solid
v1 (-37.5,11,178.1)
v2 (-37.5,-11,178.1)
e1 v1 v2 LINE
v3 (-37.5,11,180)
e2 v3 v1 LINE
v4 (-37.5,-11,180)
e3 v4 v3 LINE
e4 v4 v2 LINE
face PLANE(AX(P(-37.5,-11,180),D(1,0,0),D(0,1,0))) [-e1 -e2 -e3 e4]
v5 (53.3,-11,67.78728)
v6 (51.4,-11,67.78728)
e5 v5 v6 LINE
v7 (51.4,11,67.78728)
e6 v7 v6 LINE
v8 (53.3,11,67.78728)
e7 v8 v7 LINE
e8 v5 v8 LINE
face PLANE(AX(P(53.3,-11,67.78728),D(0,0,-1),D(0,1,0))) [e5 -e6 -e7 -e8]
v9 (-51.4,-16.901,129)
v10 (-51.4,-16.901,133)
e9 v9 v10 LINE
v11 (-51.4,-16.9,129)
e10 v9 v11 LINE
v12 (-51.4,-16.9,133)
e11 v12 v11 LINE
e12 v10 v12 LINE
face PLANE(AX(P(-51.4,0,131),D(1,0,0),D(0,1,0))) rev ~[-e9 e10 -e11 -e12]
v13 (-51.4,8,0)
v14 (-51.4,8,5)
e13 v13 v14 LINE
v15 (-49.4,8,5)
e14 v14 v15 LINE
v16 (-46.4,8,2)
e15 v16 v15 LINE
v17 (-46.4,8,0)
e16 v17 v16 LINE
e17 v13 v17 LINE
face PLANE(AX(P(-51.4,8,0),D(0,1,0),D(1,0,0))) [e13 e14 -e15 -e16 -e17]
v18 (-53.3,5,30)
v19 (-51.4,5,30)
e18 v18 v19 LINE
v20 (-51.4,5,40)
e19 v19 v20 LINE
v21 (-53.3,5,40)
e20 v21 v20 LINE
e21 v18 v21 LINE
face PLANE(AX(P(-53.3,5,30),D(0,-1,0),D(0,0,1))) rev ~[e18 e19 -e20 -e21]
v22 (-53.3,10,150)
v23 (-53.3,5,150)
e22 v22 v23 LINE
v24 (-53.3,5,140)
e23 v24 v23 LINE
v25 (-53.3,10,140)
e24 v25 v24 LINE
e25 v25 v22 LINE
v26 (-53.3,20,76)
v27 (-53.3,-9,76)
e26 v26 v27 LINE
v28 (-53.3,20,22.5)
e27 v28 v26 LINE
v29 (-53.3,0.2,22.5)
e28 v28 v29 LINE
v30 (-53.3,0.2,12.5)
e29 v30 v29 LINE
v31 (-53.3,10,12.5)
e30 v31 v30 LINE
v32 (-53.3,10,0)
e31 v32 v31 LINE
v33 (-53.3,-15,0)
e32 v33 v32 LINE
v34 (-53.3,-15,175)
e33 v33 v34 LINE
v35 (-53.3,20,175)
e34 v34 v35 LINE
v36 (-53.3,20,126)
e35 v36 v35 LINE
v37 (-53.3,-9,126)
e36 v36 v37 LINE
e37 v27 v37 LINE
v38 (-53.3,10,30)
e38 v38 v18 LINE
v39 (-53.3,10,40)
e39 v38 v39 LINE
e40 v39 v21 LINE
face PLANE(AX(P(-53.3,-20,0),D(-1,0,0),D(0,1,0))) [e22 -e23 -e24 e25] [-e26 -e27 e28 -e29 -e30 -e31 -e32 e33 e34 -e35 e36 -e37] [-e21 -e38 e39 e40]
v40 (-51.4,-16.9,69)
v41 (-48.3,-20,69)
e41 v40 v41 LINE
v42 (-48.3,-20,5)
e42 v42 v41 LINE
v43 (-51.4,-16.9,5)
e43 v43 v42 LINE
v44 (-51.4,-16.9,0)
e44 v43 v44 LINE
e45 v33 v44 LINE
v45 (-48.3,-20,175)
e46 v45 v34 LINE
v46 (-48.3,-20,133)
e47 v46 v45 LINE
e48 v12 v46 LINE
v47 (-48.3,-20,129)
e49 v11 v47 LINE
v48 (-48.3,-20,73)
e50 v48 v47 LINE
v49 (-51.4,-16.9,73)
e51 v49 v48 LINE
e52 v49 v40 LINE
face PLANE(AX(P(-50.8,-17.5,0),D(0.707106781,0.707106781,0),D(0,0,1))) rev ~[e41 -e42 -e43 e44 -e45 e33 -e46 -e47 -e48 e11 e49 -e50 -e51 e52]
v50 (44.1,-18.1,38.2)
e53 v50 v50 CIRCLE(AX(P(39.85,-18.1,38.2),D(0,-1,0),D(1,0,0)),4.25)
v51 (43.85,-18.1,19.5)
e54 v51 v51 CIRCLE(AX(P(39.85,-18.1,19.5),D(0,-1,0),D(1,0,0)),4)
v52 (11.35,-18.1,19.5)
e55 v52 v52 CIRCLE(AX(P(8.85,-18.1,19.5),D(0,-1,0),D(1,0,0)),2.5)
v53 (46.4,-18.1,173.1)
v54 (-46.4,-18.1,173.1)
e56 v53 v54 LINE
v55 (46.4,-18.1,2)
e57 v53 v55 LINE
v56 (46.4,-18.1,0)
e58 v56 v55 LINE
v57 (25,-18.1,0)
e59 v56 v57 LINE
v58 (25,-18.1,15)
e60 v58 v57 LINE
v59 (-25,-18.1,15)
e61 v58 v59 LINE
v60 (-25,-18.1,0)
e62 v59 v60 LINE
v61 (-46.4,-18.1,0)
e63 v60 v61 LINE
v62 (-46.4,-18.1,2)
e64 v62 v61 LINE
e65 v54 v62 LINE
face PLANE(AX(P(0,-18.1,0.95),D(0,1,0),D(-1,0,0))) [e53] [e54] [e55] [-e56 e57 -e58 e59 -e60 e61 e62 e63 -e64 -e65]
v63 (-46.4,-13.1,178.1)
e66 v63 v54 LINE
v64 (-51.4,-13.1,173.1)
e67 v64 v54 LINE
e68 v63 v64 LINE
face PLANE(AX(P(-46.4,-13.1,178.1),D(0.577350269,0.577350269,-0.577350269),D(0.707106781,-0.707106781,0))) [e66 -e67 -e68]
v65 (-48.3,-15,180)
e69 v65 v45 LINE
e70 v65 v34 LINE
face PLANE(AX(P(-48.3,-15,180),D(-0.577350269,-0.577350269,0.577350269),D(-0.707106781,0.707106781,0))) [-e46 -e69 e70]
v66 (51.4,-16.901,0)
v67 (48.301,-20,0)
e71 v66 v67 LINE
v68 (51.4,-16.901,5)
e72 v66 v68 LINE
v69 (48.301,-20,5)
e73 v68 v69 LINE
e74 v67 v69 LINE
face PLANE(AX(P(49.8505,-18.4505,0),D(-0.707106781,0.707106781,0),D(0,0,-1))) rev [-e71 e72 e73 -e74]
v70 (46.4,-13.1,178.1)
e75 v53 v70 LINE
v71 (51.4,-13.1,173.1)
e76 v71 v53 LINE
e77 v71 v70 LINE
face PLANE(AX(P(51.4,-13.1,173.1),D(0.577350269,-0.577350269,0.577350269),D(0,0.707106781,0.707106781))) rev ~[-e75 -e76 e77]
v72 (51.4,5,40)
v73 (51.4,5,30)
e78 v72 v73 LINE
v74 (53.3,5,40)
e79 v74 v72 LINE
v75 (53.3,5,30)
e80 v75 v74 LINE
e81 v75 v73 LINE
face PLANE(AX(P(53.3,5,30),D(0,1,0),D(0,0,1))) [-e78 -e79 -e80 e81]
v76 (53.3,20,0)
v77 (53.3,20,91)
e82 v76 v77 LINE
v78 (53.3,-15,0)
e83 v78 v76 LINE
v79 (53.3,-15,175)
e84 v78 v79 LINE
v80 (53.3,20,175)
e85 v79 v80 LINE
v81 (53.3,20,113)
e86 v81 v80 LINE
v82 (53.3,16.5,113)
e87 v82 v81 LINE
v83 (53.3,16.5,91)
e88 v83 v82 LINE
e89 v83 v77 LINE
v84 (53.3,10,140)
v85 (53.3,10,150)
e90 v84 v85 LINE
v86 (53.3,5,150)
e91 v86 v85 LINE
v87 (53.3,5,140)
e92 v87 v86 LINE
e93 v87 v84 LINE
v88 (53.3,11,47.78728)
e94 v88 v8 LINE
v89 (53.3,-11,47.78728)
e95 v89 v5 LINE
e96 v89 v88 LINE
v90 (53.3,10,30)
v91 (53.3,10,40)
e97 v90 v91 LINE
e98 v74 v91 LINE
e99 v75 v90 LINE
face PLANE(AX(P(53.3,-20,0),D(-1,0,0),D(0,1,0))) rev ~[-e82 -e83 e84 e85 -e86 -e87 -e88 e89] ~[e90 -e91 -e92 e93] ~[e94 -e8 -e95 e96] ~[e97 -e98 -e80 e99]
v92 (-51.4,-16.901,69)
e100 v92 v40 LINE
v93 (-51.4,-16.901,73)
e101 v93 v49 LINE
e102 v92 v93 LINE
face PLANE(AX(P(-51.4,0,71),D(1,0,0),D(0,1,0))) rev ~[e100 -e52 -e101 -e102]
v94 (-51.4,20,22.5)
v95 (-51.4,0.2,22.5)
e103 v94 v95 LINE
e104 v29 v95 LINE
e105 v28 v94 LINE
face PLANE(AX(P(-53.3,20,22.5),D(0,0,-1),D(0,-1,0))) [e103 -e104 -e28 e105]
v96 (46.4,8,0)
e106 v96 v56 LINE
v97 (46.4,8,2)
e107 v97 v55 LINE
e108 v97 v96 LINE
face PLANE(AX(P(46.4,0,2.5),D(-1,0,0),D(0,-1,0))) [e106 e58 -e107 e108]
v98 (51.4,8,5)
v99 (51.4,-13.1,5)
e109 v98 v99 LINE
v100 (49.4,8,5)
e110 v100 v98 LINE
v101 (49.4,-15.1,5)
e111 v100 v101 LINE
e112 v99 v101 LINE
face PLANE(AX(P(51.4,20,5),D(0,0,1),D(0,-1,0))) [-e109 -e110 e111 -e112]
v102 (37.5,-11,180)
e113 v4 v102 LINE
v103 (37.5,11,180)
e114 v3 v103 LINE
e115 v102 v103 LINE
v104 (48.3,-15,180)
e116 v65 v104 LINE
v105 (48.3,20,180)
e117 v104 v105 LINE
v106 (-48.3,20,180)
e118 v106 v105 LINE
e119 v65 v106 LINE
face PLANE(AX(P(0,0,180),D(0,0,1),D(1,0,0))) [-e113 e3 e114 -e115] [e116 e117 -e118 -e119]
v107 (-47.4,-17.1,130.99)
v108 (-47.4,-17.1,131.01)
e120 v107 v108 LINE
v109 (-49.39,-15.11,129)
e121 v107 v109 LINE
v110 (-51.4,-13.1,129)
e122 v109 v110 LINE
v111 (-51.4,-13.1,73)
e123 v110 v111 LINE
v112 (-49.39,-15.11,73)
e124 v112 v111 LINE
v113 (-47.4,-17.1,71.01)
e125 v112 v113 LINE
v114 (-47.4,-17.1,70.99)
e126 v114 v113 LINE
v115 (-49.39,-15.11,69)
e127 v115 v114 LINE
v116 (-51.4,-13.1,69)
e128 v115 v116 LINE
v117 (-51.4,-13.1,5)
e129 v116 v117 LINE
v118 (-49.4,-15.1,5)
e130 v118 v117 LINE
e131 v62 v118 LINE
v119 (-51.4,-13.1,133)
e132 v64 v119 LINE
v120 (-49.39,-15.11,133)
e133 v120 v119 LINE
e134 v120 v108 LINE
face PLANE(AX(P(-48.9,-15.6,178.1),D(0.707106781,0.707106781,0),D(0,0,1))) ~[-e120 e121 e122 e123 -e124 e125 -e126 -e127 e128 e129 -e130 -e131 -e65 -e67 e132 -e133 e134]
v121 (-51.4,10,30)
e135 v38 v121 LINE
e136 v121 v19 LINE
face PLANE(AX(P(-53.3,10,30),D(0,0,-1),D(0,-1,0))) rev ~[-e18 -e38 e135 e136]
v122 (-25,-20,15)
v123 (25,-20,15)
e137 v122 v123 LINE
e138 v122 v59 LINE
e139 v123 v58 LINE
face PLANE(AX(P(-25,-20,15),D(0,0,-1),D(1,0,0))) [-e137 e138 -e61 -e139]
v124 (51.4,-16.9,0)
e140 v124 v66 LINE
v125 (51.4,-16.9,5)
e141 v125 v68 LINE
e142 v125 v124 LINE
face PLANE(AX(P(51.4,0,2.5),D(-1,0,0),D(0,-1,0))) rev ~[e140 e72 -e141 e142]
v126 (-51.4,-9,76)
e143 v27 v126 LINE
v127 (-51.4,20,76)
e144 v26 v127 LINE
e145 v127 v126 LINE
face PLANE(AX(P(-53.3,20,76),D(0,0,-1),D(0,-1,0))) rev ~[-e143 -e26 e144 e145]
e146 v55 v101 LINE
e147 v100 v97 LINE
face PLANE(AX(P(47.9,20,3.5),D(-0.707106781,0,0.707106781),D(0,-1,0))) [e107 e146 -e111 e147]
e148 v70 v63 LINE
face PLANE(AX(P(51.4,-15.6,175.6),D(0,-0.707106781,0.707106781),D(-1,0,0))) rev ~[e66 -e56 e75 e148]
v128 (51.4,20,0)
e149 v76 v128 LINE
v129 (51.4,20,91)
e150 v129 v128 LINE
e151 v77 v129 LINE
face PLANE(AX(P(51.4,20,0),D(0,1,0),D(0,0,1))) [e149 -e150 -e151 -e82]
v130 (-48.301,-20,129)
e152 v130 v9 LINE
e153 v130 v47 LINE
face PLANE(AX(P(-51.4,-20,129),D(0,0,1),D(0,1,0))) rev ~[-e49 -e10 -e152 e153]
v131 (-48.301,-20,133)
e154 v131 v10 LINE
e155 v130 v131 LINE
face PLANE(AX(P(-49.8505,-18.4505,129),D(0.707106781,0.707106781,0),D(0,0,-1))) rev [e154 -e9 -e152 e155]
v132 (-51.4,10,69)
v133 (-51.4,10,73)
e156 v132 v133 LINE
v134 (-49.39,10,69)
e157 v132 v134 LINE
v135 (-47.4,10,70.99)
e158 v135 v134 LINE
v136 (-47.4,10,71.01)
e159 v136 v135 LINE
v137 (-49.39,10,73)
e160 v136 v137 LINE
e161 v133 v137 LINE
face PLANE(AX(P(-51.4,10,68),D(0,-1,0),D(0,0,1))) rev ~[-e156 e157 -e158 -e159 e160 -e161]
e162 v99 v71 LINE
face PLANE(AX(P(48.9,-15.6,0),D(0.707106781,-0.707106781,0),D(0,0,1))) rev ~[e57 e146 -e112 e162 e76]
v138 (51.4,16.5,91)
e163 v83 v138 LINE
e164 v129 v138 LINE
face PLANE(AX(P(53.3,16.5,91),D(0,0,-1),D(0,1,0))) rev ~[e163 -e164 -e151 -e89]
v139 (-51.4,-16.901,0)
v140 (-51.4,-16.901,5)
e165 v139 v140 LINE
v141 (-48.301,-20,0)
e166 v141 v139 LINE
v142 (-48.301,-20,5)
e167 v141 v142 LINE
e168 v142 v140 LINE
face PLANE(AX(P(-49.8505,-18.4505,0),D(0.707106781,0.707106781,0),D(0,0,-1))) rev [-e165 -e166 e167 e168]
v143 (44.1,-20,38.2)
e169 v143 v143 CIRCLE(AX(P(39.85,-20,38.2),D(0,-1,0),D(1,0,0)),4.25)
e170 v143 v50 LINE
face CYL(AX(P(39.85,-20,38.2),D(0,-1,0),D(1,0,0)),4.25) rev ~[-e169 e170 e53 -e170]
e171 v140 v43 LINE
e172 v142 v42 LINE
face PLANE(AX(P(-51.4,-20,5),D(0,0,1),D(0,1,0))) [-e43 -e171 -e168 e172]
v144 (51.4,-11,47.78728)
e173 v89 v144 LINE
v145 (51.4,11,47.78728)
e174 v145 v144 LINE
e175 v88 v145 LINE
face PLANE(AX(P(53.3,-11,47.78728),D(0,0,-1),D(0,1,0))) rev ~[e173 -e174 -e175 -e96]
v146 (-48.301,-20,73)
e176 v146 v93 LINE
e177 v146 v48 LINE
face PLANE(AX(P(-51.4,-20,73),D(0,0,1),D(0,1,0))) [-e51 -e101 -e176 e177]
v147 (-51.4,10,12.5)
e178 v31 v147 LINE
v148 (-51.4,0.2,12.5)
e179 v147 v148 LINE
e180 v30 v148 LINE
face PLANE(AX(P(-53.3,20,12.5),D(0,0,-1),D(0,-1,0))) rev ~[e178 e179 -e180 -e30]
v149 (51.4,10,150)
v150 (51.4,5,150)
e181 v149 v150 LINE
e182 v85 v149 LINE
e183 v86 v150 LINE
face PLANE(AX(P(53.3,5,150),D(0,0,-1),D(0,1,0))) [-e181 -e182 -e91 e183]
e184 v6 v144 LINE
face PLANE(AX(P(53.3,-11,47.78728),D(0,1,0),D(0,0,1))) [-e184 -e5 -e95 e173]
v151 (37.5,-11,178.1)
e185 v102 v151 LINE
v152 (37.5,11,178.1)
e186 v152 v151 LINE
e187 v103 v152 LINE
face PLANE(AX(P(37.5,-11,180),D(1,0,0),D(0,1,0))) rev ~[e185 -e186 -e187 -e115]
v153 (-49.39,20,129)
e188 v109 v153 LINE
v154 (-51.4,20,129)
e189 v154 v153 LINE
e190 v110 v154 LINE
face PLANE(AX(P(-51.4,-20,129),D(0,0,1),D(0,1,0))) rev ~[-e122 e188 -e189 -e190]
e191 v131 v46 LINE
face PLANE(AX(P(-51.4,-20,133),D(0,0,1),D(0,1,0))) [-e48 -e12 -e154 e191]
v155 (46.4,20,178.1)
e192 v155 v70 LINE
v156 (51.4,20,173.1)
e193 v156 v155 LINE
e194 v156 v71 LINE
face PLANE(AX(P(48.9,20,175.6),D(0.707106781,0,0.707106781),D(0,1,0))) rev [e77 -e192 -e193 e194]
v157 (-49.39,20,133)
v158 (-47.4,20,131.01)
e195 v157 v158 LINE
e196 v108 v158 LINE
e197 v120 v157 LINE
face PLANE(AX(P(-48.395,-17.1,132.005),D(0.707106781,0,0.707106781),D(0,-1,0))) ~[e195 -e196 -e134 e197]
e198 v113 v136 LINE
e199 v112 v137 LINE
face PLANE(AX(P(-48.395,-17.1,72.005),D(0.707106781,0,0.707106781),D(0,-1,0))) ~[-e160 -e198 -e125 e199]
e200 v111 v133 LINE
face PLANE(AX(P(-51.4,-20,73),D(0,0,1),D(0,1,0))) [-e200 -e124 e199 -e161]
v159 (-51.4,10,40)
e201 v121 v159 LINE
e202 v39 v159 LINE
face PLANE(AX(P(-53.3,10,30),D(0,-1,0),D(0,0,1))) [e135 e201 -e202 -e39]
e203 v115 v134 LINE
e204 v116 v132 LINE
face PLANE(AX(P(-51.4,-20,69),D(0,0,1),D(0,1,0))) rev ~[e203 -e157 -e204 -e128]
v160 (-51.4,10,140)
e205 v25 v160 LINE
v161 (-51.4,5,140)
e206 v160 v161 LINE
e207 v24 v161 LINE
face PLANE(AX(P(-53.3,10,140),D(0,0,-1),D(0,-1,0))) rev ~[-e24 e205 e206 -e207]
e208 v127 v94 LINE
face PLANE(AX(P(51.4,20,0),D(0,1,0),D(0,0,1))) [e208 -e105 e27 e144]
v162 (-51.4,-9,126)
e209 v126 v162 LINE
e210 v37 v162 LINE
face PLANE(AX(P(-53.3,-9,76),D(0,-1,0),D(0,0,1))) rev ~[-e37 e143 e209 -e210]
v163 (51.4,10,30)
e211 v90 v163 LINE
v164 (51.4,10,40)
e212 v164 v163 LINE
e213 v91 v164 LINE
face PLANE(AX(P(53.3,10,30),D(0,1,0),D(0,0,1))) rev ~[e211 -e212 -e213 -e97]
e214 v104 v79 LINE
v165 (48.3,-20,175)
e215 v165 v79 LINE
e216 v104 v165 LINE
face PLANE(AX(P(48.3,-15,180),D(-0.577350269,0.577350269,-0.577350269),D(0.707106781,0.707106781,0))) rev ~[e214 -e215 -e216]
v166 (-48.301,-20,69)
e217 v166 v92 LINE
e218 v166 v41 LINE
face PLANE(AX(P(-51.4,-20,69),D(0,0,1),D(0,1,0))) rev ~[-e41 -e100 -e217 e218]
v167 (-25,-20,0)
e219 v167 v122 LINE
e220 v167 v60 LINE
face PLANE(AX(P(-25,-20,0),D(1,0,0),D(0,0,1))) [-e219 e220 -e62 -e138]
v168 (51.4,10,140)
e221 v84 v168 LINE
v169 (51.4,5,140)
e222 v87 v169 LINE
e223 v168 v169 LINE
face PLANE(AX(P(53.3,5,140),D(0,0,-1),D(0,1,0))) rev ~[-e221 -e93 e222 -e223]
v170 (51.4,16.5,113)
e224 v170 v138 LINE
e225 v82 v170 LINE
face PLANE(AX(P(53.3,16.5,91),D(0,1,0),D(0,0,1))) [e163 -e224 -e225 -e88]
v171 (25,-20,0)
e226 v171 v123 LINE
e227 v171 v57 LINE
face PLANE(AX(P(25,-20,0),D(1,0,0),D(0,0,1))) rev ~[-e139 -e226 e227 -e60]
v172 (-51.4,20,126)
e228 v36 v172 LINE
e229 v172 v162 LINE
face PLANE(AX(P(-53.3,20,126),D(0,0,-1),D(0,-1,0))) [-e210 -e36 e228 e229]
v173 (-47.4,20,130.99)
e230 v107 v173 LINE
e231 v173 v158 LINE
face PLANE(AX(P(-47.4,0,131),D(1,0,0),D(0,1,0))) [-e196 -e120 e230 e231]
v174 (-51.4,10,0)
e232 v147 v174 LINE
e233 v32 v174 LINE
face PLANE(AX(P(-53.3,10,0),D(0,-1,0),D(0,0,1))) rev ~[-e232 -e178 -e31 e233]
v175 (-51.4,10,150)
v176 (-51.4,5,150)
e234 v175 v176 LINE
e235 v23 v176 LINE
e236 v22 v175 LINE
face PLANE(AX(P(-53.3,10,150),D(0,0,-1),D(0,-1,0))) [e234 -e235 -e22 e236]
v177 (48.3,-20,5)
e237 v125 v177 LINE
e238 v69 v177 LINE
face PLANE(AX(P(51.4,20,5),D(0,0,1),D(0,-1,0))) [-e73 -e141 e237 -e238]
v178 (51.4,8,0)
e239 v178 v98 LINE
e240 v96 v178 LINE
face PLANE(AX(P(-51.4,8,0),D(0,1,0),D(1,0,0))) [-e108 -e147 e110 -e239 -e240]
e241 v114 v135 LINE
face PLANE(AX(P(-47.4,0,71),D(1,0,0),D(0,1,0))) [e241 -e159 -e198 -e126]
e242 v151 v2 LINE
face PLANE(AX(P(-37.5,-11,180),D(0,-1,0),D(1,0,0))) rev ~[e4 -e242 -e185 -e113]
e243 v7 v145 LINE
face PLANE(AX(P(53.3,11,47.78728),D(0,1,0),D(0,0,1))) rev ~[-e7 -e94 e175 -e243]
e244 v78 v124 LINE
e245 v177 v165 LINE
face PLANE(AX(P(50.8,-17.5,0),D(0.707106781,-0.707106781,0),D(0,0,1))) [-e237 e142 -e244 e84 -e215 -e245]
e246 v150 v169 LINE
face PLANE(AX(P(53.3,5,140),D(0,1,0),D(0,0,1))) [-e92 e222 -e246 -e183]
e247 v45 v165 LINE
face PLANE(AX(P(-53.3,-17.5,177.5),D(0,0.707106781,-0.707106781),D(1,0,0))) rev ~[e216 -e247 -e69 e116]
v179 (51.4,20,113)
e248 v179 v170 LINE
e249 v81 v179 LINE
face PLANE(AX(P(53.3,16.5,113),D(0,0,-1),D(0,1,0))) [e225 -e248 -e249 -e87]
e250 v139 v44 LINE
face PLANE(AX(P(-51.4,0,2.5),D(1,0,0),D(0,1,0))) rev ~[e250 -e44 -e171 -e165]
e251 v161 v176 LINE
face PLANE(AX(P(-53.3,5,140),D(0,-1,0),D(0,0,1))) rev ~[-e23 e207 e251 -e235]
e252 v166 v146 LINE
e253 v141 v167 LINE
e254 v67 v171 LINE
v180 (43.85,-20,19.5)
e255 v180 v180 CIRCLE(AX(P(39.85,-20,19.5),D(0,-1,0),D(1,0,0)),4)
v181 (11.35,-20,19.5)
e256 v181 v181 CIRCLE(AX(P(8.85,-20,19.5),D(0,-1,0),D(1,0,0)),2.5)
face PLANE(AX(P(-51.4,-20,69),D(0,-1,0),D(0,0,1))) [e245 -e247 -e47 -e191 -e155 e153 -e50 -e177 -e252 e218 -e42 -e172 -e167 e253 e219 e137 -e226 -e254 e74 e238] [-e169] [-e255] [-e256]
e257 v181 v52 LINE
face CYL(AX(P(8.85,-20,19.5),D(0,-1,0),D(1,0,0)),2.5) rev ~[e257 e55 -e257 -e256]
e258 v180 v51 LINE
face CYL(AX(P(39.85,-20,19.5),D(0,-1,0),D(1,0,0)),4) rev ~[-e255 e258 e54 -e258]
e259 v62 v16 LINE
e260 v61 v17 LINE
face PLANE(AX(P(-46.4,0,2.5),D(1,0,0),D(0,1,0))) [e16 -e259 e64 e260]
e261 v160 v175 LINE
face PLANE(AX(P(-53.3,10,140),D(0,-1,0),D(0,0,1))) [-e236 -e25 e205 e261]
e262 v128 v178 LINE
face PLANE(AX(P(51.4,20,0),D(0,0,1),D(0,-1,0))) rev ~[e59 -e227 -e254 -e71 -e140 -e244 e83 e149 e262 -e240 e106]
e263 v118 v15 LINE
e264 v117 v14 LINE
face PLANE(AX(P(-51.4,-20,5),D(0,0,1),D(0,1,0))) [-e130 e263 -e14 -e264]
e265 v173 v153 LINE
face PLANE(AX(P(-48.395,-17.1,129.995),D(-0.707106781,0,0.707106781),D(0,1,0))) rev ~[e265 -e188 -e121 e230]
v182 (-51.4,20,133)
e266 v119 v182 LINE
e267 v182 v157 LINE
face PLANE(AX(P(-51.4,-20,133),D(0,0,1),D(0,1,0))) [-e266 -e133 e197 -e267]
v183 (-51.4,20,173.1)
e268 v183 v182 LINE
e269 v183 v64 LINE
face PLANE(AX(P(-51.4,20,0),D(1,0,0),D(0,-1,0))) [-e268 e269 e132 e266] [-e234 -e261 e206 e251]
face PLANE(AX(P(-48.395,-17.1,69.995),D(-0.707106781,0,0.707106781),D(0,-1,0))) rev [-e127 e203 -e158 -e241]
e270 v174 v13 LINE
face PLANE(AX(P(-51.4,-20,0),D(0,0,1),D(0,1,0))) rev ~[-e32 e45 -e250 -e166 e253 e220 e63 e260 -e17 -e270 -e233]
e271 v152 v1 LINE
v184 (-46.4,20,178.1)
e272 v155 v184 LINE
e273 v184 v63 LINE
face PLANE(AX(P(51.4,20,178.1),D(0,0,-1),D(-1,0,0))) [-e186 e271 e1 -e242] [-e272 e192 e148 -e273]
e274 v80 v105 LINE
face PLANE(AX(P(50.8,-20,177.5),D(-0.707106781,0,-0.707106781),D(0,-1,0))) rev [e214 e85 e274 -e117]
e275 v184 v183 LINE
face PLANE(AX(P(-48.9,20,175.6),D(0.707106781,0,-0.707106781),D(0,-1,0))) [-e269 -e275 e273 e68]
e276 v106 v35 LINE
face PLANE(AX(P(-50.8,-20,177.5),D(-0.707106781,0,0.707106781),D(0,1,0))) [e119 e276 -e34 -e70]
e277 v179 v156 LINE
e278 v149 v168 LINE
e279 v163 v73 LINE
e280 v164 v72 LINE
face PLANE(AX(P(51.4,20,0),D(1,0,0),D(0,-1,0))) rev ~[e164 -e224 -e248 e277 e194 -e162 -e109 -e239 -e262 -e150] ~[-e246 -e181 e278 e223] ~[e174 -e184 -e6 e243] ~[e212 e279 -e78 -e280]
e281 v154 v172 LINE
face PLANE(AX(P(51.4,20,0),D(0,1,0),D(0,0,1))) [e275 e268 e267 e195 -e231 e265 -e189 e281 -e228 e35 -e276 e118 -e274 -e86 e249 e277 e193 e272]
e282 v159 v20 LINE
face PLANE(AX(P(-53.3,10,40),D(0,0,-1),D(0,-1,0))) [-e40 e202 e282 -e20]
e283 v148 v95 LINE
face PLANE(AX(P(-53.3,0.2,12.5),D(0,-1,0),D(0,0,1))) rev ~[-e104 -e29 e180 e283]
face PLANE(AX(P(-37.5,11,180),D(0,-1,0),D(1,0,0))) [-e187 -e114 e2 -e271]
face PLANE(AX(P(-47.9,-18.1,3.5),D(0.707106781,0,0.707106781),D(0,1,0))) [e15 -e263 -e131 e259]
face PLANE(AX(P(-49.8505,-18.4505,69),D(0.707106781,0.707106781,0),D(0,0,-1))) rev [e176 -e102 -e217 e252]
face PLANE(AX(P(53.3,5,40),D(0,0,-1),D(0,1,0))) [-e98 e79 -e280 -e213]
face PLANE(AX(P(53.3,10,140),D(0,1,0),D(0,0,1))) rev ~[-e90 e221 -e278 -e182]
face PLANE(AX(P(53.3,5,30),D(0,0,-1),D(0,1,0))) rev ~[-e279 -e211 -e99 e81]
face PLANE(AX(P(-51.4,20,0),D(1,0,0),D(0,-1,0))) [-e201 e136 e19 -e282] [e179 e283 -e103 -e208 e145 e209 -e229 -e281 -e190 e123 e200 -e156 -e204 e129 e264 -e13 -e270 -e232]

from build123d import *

# Parameters (mm, degrees)
SKETCH_W        = 106.6
SKETCH_H        = 40
PAD_DEPTH       = 180
SKETCH001_W     = 102.8
SKETCH001_H     = 176.2
POCKET_DEPTH    = 38.1
SKETCH002_W     = 102.8
SKETCH002_H     = 1.9
POCKET001_DEPTH = 38.1
SKETCH003_W     = 50
SKETCH003_H     = 15
POCKET002_DEPTH = 5
SKETCH004_W     = 22
SKETCH004_H     = 20
POCKET003_DEPTH = 5
SKETCH005_W     = 75
SKETCH005_H     = 22
POCKET004_DEPTH = 5
SKETCH006_R     = 4
SKETCH006_R_2   = 4.25
POCKET005_DEPTH = 5
CHAMFER_SIZE    = 5
CHAMFER001_SIZE = 5
SKETCH007_W     = 5
SKETCH007_H     = 10
POCKET006_DEPTH = 5
SKETCH008_W     = 5
SKETCH008_H     = 10
POCKET007_DEPTH = 5
SKETCH009_W     = 19.8
SKETCH009_H     = 10
POCKET008_DEPTH = 5
SKETCH010_W     = 40
SKETCH010_H     = 5
PAD001_DEPTH    = 5
CHAMFER002_SIZE = 3.099
CHAMFER003_SIZE = 3
SKETCH011_W     = 40
SKETCH011_H     = 5
PAD002_DEPTH    = 5
CHAMFER004_SIZE = 3.099
CHAMFER005_SIZE = 3
SKETCH012_W     = 3.5
SKETCH012_H     = 22
POCKET009_DEPTH = 5
SKETCH013_W     = 3.5
SKETCH013_H     = 22
POCKET010_DEPTH = 5
SKETCH014_W     = 29
SKETCH014_H     = 50
POCKET011_DEPTH = 5
SKETCH015_W     = 102.8
SKETCH015_H     = 12
POCKET012_DEPTH = 5
SKETCH016_W     = 10
SKETCH016_H     = 12.5
POCKET013_DEPTH = 5
SKETCH017_W     = 40
SKETCH017_H     = 4
PAD003_DEPTH    = 4
CHAMFER006_SIZE = 3.099
CHAMFER007_SIZE = 1.99
SKETCH018_R     = 2.5
POCKET014_DEPTH = 5
SKETCH019_W     = 10
SKETCH019_H     = 8
POCKET015_DEPTH = 5


with BuildPart() as part:
    # Sketch → Pad (new body)
    with BuildSketch(Plane.XY):
        Rectangle(SKETCH_W, SKETCH_H)
    extrude(amount=PAD_DEPTH)

    # Sketch001 (on Face1 of Pad) → Pocket (cut)
    with BuildSketch(Plane(origin=(0, 20, 0), x_dir=(-1, 0, 0), z_dir=(0, 1, 0))):
        with Locations((0, 90)):
            Rectangle(SKETCH001_W, SKETCH001_H)
    extrude(amount=-POCKET_DEPTH, mode=Mode.SUBTRACT)

    # Sketch002 (on Face1 of Pocket) → Pocket001 (cut)
    with BuildSketch(Plane(origin=(0, 20, 0), x_dir=(-1, 0, 0), z_dir=(0, 1, 0))):
        with Locations((0, 0.95)):
            Rectangle(SKETCH002_W, SKETCH002_H)
    extrude(amount=-POCKET001_DEPTH, mode=Mode.SUBTRACT)

    # Sketch003 (on Face11 of Pocket001) → Pocket002 (cut)
    with BuildSketch(Plane.XZ.offset(20)):
        with Locations((0, 7.5)):
            Rectangle(SKETCH003_W, SKETCH003_H)
    extrude(amount=-POCKET002_DEPTH, mode=Mode.SUBTRACT)

    # Sketch004 (on Face9 of Pocket002) → Pocket003 (cut)
    with BuildSketch(Plane.YZ.offset(53.3)):
        with Locations((0, 57.78728)):
            Rectangle(SKETCH004_W, SKETCH004_H)
    extrude(amount=-POCKET003_DEPTH, mode=Mode.SUBTRACT)

    # Sketch005 (on Face10 of Pocket003) → Pocket004 (cut)
    with BuildSketch(Plane.XY.offset(180)):
        Rectangle(SKETCH005_W, SKETCH005_H)
    extrude(amount=-POCKET004_DEPTH, mode=Mode.SUBTRACT)

    # Sketch006 (on Face12 of Pocket004) → Pocket005 (cut)
    with BuildSketch(Plane.XZ.offset(20)):
        with Locations((39.85, 19.5)):
            Circle(SKETCH006_R)
        with Locations((39.85, 38.2)):
            Circle(SKETCH006_R_2)
    extrude(amount=-POCKET005_DEPTH, mode=Mode.SUBTRACT)

    # Chamfer
    chamfer_edges = [part.edges().sort_by_distance(p)[0] for p in [
        (-51.4, -18.1, 90),
        (-51.4, 0.95, 178.1),
        (0, -18.1, 178.1),
        (51.4, -18.1, 90),
        (51.4, 0.95, 178.1),
    ]]
    chamfer(chamfer_edges, length=CHAMFER_SIZE)

    # Chamfer001
    chamfer001_edges = [part.edges().sort_by_distance(p)[0] for p in [
        (53.3, -20, 90),
        (-53.3, -20, 90),
        (0, -20, 180),
        (53.3, 0, 180),
        (-53.3, 0, 180),
    ]]
    chamfer(chamfer001_edges, length=CHAMFER001_SIZE)

    # Sketch007 (on Face9 of Chamfer001) → Pocket006 (cut)
    with BuildSketch(Plane.YZ.offset(53.3)):
        with Locations((7.5, 145)):
            Rectangle(SKETCH007_W, SKETCH007_H)
        with Locations((7.5, 35)):
            Rectangle(SKETCH007_W, SKETCH007_H)
    extrude(amount=-POCKET006_DEPTH, mode=Mode.SUBTRACT)

    # Sketch008 (on Face2 of Pocket006) → Pocket007 (cut)
    with BuildSketch(Plane(origin=(-53.3, 0, 0), x_dir=(0, -1, 0), z_dir=(-1, 0, 0))):
        with Locations((-7.5, 145)):
            Rectangle(SKETCH008_W, SKETCH008_H)
        with Locations((-7.5, 35)):
            Rectangle(SKETCH008_W, SKETCH008_H)
    extrude(amount=-POCKET007_DEPTH, mode=Mode.SUBTRACT)

    # Sketch009 (on Face2 of Pocket007) → Pocket008 (cut)
    with BuildSketch(Plane(origin=(-53.3, 0, 0), x_dir=(0, -1, 0), z_dir=(-1, 0, 0))):
        with Locations((-10.1, 17.5)):
            Rectangle(SKETCH009_W, SKETCH009_H)
    extrude(amount=-POCKET008_DEPTH, mode=Mode.SUBTRACT)

    # Sketch010 (on Face4 of Pocket008) → Pad001 (join)
    with BuildSketch(Plane.YZ.offset(-51.4)):
        with Locations((0, 2.5)):
            Rectangle(SKETCH010_W, SKETCH010_H)
    extrude(amount=PAD001_DEPTH)

    # Chamfer002
    chamfer002_edges = [part.edges().sort_by_distance(p)[0] for p in [
        (-51.4, -20, 2.5),
    ]]
    chamfer(chamfer002_edges, length=CHAMFER002_SIZE)

    # Chamfer003
    chamfer003_edges = [part.edges().sort_by_distance(p)[0] for p in [
        (-46.4, 0.95, 5),
    ]]
    chamfer(chamfer003_edges, length=CHAMFER003_SIZE)

    # Sketch011 (on Face27 of Chamfer003) → Pad002 (join)
    with BuildSketch(Plane(origin=(51.4, 0, 0), x_dir=(0, -1, 0), z_dir=(-1, 0, 0))):
        with Locations((0, 2.5)):
            Rectangle(SKETCH011_W, SKETCH011_H)
    extrude(amount=PAD002_DEPTH)

    # Chamfer004
    chamfer004_edges = [part.edges().sort_by_distance(p)[0] for p in [
        (51.4, -20, 2.5),
    ]]
    chamfer(chamfer004_edges, length=CHAMFER004_SIZE)

    # Chamfer005
    chamfer005_edges = [part.edges().sort_by_distance(p)[0] for p in [
        (46.4, 0.95, 5),
    ]]
    chamfer(chamfer005_edges, length=CHAMFER005_SIZE)

    # Sketch012 (on Face15 of Chamfer005) → Pocket009 (cut)
    with BuildSketch(Plane.YZ.offset(53.3)):
        with Locations((18.25, 102)):
            Rectangle(SKETCH012_W, SKETCH012_H)
    extrude(amount=-POCKET009_DEPTH, mode=Mode.SUBTRACT)

    # Sketch013 (on Face52 of Pocket009) → Pocket010 (cut)
    with BuildSketch(Plane(origin=(-53.3, 0, 0), x_dir=(0, -1, 0), z_dir=(-1, 0, 0))):
        with Locations((-18.25, 102)):
            Rectangle(SKETCH013_W, SKETCH013_H)
    extrude(amount=-POCKET010_DEPTH, mode=Mode.SUBTRACT)

    # Sketch014 (on Face52 of Pocket010) → Pocket011 (cut)
    with BuildSketch(Plane(origin=(-53.3, 0, 0), x_dir=(0, -1, 0), z_dir=(-1, 0, 0))):
        with Locations((-5.5, 101)):
            Rectangle(SKETCH014_W, SKETCH014_H)
    extrude(amount=-POCKET011_DEPTH, mode=Mode.SUBTRACT)

    # Sketch015 (on Face6 of Pocket011) → Pocket012 (cut)
    with BuildSketch(Plane(origin=(0, 0, 0), x_dir=(1, 0, 0), z_dir=(0, 0, -1))):
        with Locations((0, -14)):
            Rectangle(SKETCH015_W, SKETCH015_H)
    extrude(amount=-POCKET012_DEPTH, mode=Mode.SUBTRACT)

    # Sketch016 (on Face37 of Pocket012) → Pocket013 (cut)
    with BuildSketch(Plane(origin=(-53.3, 0, 0), x_dir=(0, -1, 0), z_dir=(-1, 0, 0))):
        with Locations((-15, 6.25)):
            Rectangle(SKETCH016_W, SKETCH016_H)
    extrude(amount=-POCKET013_DEPTH, mode=Mode.SUBTRACT)

    # Sketch017 (on Face32 of Pocket013) → Pad003 (join)
    with BuildSketch(Plane.YZ.offset(-51.4)):
        with Locations((0, 71)):
            Rectangle(SKETCH017_W, SKETCH017_H)
        with Locations((0, 131)):
            Rectangle(SKETCH017_W, SKETCH017_H)
    extrude(amount=PAD003_DEPTH)

    # Chamfer006
    chamfer006_edges = [part.edges().sort_by_distance(p)[0] for p in [
        (-51.4, -20, 131),
        (-51.4, -20, 71),
    ]]
    chamfer(chamfer006_edges, length=CHAMFER006_SIZE)

    # Chamfer007
    chamfer007_edges = [part.edges().sort_by_distance(p)[0] for p in [
        (-47.4, 1.45, 129),
        (-47.4, 1.45, 133),
        (-47.4, 1.45, 73),
        (-47.4, 1.45, 69),
    ]]
    chamfer(chamfer007_edges, length=CHAMFER007_SIZE)

    # Sketch018 (on Face66 of Chamfer007) → Pocket014 (cut)
    with BuildSketch(Plane.XZ.offset(20)):
        with Locations((8.85, 19.5)):
            Circle(SKETCH018_R)
    extrude(amount=-POCKET014_DEPTH, mode=Mode.SUBTRACT)

    # Sketch019 (on Face8 of Pocket014) → Pocket015 (cut)
    with BuildSketch(Plane.YZ.offset(-51.4)):
        with Locations((15, 72)):
            Rectangle(SKETCH019_W, SKETCH019_H)
    extrude(amount=POCKET015_DEPTH, mode=Mode.SUBTRACT)


solid = part.part
